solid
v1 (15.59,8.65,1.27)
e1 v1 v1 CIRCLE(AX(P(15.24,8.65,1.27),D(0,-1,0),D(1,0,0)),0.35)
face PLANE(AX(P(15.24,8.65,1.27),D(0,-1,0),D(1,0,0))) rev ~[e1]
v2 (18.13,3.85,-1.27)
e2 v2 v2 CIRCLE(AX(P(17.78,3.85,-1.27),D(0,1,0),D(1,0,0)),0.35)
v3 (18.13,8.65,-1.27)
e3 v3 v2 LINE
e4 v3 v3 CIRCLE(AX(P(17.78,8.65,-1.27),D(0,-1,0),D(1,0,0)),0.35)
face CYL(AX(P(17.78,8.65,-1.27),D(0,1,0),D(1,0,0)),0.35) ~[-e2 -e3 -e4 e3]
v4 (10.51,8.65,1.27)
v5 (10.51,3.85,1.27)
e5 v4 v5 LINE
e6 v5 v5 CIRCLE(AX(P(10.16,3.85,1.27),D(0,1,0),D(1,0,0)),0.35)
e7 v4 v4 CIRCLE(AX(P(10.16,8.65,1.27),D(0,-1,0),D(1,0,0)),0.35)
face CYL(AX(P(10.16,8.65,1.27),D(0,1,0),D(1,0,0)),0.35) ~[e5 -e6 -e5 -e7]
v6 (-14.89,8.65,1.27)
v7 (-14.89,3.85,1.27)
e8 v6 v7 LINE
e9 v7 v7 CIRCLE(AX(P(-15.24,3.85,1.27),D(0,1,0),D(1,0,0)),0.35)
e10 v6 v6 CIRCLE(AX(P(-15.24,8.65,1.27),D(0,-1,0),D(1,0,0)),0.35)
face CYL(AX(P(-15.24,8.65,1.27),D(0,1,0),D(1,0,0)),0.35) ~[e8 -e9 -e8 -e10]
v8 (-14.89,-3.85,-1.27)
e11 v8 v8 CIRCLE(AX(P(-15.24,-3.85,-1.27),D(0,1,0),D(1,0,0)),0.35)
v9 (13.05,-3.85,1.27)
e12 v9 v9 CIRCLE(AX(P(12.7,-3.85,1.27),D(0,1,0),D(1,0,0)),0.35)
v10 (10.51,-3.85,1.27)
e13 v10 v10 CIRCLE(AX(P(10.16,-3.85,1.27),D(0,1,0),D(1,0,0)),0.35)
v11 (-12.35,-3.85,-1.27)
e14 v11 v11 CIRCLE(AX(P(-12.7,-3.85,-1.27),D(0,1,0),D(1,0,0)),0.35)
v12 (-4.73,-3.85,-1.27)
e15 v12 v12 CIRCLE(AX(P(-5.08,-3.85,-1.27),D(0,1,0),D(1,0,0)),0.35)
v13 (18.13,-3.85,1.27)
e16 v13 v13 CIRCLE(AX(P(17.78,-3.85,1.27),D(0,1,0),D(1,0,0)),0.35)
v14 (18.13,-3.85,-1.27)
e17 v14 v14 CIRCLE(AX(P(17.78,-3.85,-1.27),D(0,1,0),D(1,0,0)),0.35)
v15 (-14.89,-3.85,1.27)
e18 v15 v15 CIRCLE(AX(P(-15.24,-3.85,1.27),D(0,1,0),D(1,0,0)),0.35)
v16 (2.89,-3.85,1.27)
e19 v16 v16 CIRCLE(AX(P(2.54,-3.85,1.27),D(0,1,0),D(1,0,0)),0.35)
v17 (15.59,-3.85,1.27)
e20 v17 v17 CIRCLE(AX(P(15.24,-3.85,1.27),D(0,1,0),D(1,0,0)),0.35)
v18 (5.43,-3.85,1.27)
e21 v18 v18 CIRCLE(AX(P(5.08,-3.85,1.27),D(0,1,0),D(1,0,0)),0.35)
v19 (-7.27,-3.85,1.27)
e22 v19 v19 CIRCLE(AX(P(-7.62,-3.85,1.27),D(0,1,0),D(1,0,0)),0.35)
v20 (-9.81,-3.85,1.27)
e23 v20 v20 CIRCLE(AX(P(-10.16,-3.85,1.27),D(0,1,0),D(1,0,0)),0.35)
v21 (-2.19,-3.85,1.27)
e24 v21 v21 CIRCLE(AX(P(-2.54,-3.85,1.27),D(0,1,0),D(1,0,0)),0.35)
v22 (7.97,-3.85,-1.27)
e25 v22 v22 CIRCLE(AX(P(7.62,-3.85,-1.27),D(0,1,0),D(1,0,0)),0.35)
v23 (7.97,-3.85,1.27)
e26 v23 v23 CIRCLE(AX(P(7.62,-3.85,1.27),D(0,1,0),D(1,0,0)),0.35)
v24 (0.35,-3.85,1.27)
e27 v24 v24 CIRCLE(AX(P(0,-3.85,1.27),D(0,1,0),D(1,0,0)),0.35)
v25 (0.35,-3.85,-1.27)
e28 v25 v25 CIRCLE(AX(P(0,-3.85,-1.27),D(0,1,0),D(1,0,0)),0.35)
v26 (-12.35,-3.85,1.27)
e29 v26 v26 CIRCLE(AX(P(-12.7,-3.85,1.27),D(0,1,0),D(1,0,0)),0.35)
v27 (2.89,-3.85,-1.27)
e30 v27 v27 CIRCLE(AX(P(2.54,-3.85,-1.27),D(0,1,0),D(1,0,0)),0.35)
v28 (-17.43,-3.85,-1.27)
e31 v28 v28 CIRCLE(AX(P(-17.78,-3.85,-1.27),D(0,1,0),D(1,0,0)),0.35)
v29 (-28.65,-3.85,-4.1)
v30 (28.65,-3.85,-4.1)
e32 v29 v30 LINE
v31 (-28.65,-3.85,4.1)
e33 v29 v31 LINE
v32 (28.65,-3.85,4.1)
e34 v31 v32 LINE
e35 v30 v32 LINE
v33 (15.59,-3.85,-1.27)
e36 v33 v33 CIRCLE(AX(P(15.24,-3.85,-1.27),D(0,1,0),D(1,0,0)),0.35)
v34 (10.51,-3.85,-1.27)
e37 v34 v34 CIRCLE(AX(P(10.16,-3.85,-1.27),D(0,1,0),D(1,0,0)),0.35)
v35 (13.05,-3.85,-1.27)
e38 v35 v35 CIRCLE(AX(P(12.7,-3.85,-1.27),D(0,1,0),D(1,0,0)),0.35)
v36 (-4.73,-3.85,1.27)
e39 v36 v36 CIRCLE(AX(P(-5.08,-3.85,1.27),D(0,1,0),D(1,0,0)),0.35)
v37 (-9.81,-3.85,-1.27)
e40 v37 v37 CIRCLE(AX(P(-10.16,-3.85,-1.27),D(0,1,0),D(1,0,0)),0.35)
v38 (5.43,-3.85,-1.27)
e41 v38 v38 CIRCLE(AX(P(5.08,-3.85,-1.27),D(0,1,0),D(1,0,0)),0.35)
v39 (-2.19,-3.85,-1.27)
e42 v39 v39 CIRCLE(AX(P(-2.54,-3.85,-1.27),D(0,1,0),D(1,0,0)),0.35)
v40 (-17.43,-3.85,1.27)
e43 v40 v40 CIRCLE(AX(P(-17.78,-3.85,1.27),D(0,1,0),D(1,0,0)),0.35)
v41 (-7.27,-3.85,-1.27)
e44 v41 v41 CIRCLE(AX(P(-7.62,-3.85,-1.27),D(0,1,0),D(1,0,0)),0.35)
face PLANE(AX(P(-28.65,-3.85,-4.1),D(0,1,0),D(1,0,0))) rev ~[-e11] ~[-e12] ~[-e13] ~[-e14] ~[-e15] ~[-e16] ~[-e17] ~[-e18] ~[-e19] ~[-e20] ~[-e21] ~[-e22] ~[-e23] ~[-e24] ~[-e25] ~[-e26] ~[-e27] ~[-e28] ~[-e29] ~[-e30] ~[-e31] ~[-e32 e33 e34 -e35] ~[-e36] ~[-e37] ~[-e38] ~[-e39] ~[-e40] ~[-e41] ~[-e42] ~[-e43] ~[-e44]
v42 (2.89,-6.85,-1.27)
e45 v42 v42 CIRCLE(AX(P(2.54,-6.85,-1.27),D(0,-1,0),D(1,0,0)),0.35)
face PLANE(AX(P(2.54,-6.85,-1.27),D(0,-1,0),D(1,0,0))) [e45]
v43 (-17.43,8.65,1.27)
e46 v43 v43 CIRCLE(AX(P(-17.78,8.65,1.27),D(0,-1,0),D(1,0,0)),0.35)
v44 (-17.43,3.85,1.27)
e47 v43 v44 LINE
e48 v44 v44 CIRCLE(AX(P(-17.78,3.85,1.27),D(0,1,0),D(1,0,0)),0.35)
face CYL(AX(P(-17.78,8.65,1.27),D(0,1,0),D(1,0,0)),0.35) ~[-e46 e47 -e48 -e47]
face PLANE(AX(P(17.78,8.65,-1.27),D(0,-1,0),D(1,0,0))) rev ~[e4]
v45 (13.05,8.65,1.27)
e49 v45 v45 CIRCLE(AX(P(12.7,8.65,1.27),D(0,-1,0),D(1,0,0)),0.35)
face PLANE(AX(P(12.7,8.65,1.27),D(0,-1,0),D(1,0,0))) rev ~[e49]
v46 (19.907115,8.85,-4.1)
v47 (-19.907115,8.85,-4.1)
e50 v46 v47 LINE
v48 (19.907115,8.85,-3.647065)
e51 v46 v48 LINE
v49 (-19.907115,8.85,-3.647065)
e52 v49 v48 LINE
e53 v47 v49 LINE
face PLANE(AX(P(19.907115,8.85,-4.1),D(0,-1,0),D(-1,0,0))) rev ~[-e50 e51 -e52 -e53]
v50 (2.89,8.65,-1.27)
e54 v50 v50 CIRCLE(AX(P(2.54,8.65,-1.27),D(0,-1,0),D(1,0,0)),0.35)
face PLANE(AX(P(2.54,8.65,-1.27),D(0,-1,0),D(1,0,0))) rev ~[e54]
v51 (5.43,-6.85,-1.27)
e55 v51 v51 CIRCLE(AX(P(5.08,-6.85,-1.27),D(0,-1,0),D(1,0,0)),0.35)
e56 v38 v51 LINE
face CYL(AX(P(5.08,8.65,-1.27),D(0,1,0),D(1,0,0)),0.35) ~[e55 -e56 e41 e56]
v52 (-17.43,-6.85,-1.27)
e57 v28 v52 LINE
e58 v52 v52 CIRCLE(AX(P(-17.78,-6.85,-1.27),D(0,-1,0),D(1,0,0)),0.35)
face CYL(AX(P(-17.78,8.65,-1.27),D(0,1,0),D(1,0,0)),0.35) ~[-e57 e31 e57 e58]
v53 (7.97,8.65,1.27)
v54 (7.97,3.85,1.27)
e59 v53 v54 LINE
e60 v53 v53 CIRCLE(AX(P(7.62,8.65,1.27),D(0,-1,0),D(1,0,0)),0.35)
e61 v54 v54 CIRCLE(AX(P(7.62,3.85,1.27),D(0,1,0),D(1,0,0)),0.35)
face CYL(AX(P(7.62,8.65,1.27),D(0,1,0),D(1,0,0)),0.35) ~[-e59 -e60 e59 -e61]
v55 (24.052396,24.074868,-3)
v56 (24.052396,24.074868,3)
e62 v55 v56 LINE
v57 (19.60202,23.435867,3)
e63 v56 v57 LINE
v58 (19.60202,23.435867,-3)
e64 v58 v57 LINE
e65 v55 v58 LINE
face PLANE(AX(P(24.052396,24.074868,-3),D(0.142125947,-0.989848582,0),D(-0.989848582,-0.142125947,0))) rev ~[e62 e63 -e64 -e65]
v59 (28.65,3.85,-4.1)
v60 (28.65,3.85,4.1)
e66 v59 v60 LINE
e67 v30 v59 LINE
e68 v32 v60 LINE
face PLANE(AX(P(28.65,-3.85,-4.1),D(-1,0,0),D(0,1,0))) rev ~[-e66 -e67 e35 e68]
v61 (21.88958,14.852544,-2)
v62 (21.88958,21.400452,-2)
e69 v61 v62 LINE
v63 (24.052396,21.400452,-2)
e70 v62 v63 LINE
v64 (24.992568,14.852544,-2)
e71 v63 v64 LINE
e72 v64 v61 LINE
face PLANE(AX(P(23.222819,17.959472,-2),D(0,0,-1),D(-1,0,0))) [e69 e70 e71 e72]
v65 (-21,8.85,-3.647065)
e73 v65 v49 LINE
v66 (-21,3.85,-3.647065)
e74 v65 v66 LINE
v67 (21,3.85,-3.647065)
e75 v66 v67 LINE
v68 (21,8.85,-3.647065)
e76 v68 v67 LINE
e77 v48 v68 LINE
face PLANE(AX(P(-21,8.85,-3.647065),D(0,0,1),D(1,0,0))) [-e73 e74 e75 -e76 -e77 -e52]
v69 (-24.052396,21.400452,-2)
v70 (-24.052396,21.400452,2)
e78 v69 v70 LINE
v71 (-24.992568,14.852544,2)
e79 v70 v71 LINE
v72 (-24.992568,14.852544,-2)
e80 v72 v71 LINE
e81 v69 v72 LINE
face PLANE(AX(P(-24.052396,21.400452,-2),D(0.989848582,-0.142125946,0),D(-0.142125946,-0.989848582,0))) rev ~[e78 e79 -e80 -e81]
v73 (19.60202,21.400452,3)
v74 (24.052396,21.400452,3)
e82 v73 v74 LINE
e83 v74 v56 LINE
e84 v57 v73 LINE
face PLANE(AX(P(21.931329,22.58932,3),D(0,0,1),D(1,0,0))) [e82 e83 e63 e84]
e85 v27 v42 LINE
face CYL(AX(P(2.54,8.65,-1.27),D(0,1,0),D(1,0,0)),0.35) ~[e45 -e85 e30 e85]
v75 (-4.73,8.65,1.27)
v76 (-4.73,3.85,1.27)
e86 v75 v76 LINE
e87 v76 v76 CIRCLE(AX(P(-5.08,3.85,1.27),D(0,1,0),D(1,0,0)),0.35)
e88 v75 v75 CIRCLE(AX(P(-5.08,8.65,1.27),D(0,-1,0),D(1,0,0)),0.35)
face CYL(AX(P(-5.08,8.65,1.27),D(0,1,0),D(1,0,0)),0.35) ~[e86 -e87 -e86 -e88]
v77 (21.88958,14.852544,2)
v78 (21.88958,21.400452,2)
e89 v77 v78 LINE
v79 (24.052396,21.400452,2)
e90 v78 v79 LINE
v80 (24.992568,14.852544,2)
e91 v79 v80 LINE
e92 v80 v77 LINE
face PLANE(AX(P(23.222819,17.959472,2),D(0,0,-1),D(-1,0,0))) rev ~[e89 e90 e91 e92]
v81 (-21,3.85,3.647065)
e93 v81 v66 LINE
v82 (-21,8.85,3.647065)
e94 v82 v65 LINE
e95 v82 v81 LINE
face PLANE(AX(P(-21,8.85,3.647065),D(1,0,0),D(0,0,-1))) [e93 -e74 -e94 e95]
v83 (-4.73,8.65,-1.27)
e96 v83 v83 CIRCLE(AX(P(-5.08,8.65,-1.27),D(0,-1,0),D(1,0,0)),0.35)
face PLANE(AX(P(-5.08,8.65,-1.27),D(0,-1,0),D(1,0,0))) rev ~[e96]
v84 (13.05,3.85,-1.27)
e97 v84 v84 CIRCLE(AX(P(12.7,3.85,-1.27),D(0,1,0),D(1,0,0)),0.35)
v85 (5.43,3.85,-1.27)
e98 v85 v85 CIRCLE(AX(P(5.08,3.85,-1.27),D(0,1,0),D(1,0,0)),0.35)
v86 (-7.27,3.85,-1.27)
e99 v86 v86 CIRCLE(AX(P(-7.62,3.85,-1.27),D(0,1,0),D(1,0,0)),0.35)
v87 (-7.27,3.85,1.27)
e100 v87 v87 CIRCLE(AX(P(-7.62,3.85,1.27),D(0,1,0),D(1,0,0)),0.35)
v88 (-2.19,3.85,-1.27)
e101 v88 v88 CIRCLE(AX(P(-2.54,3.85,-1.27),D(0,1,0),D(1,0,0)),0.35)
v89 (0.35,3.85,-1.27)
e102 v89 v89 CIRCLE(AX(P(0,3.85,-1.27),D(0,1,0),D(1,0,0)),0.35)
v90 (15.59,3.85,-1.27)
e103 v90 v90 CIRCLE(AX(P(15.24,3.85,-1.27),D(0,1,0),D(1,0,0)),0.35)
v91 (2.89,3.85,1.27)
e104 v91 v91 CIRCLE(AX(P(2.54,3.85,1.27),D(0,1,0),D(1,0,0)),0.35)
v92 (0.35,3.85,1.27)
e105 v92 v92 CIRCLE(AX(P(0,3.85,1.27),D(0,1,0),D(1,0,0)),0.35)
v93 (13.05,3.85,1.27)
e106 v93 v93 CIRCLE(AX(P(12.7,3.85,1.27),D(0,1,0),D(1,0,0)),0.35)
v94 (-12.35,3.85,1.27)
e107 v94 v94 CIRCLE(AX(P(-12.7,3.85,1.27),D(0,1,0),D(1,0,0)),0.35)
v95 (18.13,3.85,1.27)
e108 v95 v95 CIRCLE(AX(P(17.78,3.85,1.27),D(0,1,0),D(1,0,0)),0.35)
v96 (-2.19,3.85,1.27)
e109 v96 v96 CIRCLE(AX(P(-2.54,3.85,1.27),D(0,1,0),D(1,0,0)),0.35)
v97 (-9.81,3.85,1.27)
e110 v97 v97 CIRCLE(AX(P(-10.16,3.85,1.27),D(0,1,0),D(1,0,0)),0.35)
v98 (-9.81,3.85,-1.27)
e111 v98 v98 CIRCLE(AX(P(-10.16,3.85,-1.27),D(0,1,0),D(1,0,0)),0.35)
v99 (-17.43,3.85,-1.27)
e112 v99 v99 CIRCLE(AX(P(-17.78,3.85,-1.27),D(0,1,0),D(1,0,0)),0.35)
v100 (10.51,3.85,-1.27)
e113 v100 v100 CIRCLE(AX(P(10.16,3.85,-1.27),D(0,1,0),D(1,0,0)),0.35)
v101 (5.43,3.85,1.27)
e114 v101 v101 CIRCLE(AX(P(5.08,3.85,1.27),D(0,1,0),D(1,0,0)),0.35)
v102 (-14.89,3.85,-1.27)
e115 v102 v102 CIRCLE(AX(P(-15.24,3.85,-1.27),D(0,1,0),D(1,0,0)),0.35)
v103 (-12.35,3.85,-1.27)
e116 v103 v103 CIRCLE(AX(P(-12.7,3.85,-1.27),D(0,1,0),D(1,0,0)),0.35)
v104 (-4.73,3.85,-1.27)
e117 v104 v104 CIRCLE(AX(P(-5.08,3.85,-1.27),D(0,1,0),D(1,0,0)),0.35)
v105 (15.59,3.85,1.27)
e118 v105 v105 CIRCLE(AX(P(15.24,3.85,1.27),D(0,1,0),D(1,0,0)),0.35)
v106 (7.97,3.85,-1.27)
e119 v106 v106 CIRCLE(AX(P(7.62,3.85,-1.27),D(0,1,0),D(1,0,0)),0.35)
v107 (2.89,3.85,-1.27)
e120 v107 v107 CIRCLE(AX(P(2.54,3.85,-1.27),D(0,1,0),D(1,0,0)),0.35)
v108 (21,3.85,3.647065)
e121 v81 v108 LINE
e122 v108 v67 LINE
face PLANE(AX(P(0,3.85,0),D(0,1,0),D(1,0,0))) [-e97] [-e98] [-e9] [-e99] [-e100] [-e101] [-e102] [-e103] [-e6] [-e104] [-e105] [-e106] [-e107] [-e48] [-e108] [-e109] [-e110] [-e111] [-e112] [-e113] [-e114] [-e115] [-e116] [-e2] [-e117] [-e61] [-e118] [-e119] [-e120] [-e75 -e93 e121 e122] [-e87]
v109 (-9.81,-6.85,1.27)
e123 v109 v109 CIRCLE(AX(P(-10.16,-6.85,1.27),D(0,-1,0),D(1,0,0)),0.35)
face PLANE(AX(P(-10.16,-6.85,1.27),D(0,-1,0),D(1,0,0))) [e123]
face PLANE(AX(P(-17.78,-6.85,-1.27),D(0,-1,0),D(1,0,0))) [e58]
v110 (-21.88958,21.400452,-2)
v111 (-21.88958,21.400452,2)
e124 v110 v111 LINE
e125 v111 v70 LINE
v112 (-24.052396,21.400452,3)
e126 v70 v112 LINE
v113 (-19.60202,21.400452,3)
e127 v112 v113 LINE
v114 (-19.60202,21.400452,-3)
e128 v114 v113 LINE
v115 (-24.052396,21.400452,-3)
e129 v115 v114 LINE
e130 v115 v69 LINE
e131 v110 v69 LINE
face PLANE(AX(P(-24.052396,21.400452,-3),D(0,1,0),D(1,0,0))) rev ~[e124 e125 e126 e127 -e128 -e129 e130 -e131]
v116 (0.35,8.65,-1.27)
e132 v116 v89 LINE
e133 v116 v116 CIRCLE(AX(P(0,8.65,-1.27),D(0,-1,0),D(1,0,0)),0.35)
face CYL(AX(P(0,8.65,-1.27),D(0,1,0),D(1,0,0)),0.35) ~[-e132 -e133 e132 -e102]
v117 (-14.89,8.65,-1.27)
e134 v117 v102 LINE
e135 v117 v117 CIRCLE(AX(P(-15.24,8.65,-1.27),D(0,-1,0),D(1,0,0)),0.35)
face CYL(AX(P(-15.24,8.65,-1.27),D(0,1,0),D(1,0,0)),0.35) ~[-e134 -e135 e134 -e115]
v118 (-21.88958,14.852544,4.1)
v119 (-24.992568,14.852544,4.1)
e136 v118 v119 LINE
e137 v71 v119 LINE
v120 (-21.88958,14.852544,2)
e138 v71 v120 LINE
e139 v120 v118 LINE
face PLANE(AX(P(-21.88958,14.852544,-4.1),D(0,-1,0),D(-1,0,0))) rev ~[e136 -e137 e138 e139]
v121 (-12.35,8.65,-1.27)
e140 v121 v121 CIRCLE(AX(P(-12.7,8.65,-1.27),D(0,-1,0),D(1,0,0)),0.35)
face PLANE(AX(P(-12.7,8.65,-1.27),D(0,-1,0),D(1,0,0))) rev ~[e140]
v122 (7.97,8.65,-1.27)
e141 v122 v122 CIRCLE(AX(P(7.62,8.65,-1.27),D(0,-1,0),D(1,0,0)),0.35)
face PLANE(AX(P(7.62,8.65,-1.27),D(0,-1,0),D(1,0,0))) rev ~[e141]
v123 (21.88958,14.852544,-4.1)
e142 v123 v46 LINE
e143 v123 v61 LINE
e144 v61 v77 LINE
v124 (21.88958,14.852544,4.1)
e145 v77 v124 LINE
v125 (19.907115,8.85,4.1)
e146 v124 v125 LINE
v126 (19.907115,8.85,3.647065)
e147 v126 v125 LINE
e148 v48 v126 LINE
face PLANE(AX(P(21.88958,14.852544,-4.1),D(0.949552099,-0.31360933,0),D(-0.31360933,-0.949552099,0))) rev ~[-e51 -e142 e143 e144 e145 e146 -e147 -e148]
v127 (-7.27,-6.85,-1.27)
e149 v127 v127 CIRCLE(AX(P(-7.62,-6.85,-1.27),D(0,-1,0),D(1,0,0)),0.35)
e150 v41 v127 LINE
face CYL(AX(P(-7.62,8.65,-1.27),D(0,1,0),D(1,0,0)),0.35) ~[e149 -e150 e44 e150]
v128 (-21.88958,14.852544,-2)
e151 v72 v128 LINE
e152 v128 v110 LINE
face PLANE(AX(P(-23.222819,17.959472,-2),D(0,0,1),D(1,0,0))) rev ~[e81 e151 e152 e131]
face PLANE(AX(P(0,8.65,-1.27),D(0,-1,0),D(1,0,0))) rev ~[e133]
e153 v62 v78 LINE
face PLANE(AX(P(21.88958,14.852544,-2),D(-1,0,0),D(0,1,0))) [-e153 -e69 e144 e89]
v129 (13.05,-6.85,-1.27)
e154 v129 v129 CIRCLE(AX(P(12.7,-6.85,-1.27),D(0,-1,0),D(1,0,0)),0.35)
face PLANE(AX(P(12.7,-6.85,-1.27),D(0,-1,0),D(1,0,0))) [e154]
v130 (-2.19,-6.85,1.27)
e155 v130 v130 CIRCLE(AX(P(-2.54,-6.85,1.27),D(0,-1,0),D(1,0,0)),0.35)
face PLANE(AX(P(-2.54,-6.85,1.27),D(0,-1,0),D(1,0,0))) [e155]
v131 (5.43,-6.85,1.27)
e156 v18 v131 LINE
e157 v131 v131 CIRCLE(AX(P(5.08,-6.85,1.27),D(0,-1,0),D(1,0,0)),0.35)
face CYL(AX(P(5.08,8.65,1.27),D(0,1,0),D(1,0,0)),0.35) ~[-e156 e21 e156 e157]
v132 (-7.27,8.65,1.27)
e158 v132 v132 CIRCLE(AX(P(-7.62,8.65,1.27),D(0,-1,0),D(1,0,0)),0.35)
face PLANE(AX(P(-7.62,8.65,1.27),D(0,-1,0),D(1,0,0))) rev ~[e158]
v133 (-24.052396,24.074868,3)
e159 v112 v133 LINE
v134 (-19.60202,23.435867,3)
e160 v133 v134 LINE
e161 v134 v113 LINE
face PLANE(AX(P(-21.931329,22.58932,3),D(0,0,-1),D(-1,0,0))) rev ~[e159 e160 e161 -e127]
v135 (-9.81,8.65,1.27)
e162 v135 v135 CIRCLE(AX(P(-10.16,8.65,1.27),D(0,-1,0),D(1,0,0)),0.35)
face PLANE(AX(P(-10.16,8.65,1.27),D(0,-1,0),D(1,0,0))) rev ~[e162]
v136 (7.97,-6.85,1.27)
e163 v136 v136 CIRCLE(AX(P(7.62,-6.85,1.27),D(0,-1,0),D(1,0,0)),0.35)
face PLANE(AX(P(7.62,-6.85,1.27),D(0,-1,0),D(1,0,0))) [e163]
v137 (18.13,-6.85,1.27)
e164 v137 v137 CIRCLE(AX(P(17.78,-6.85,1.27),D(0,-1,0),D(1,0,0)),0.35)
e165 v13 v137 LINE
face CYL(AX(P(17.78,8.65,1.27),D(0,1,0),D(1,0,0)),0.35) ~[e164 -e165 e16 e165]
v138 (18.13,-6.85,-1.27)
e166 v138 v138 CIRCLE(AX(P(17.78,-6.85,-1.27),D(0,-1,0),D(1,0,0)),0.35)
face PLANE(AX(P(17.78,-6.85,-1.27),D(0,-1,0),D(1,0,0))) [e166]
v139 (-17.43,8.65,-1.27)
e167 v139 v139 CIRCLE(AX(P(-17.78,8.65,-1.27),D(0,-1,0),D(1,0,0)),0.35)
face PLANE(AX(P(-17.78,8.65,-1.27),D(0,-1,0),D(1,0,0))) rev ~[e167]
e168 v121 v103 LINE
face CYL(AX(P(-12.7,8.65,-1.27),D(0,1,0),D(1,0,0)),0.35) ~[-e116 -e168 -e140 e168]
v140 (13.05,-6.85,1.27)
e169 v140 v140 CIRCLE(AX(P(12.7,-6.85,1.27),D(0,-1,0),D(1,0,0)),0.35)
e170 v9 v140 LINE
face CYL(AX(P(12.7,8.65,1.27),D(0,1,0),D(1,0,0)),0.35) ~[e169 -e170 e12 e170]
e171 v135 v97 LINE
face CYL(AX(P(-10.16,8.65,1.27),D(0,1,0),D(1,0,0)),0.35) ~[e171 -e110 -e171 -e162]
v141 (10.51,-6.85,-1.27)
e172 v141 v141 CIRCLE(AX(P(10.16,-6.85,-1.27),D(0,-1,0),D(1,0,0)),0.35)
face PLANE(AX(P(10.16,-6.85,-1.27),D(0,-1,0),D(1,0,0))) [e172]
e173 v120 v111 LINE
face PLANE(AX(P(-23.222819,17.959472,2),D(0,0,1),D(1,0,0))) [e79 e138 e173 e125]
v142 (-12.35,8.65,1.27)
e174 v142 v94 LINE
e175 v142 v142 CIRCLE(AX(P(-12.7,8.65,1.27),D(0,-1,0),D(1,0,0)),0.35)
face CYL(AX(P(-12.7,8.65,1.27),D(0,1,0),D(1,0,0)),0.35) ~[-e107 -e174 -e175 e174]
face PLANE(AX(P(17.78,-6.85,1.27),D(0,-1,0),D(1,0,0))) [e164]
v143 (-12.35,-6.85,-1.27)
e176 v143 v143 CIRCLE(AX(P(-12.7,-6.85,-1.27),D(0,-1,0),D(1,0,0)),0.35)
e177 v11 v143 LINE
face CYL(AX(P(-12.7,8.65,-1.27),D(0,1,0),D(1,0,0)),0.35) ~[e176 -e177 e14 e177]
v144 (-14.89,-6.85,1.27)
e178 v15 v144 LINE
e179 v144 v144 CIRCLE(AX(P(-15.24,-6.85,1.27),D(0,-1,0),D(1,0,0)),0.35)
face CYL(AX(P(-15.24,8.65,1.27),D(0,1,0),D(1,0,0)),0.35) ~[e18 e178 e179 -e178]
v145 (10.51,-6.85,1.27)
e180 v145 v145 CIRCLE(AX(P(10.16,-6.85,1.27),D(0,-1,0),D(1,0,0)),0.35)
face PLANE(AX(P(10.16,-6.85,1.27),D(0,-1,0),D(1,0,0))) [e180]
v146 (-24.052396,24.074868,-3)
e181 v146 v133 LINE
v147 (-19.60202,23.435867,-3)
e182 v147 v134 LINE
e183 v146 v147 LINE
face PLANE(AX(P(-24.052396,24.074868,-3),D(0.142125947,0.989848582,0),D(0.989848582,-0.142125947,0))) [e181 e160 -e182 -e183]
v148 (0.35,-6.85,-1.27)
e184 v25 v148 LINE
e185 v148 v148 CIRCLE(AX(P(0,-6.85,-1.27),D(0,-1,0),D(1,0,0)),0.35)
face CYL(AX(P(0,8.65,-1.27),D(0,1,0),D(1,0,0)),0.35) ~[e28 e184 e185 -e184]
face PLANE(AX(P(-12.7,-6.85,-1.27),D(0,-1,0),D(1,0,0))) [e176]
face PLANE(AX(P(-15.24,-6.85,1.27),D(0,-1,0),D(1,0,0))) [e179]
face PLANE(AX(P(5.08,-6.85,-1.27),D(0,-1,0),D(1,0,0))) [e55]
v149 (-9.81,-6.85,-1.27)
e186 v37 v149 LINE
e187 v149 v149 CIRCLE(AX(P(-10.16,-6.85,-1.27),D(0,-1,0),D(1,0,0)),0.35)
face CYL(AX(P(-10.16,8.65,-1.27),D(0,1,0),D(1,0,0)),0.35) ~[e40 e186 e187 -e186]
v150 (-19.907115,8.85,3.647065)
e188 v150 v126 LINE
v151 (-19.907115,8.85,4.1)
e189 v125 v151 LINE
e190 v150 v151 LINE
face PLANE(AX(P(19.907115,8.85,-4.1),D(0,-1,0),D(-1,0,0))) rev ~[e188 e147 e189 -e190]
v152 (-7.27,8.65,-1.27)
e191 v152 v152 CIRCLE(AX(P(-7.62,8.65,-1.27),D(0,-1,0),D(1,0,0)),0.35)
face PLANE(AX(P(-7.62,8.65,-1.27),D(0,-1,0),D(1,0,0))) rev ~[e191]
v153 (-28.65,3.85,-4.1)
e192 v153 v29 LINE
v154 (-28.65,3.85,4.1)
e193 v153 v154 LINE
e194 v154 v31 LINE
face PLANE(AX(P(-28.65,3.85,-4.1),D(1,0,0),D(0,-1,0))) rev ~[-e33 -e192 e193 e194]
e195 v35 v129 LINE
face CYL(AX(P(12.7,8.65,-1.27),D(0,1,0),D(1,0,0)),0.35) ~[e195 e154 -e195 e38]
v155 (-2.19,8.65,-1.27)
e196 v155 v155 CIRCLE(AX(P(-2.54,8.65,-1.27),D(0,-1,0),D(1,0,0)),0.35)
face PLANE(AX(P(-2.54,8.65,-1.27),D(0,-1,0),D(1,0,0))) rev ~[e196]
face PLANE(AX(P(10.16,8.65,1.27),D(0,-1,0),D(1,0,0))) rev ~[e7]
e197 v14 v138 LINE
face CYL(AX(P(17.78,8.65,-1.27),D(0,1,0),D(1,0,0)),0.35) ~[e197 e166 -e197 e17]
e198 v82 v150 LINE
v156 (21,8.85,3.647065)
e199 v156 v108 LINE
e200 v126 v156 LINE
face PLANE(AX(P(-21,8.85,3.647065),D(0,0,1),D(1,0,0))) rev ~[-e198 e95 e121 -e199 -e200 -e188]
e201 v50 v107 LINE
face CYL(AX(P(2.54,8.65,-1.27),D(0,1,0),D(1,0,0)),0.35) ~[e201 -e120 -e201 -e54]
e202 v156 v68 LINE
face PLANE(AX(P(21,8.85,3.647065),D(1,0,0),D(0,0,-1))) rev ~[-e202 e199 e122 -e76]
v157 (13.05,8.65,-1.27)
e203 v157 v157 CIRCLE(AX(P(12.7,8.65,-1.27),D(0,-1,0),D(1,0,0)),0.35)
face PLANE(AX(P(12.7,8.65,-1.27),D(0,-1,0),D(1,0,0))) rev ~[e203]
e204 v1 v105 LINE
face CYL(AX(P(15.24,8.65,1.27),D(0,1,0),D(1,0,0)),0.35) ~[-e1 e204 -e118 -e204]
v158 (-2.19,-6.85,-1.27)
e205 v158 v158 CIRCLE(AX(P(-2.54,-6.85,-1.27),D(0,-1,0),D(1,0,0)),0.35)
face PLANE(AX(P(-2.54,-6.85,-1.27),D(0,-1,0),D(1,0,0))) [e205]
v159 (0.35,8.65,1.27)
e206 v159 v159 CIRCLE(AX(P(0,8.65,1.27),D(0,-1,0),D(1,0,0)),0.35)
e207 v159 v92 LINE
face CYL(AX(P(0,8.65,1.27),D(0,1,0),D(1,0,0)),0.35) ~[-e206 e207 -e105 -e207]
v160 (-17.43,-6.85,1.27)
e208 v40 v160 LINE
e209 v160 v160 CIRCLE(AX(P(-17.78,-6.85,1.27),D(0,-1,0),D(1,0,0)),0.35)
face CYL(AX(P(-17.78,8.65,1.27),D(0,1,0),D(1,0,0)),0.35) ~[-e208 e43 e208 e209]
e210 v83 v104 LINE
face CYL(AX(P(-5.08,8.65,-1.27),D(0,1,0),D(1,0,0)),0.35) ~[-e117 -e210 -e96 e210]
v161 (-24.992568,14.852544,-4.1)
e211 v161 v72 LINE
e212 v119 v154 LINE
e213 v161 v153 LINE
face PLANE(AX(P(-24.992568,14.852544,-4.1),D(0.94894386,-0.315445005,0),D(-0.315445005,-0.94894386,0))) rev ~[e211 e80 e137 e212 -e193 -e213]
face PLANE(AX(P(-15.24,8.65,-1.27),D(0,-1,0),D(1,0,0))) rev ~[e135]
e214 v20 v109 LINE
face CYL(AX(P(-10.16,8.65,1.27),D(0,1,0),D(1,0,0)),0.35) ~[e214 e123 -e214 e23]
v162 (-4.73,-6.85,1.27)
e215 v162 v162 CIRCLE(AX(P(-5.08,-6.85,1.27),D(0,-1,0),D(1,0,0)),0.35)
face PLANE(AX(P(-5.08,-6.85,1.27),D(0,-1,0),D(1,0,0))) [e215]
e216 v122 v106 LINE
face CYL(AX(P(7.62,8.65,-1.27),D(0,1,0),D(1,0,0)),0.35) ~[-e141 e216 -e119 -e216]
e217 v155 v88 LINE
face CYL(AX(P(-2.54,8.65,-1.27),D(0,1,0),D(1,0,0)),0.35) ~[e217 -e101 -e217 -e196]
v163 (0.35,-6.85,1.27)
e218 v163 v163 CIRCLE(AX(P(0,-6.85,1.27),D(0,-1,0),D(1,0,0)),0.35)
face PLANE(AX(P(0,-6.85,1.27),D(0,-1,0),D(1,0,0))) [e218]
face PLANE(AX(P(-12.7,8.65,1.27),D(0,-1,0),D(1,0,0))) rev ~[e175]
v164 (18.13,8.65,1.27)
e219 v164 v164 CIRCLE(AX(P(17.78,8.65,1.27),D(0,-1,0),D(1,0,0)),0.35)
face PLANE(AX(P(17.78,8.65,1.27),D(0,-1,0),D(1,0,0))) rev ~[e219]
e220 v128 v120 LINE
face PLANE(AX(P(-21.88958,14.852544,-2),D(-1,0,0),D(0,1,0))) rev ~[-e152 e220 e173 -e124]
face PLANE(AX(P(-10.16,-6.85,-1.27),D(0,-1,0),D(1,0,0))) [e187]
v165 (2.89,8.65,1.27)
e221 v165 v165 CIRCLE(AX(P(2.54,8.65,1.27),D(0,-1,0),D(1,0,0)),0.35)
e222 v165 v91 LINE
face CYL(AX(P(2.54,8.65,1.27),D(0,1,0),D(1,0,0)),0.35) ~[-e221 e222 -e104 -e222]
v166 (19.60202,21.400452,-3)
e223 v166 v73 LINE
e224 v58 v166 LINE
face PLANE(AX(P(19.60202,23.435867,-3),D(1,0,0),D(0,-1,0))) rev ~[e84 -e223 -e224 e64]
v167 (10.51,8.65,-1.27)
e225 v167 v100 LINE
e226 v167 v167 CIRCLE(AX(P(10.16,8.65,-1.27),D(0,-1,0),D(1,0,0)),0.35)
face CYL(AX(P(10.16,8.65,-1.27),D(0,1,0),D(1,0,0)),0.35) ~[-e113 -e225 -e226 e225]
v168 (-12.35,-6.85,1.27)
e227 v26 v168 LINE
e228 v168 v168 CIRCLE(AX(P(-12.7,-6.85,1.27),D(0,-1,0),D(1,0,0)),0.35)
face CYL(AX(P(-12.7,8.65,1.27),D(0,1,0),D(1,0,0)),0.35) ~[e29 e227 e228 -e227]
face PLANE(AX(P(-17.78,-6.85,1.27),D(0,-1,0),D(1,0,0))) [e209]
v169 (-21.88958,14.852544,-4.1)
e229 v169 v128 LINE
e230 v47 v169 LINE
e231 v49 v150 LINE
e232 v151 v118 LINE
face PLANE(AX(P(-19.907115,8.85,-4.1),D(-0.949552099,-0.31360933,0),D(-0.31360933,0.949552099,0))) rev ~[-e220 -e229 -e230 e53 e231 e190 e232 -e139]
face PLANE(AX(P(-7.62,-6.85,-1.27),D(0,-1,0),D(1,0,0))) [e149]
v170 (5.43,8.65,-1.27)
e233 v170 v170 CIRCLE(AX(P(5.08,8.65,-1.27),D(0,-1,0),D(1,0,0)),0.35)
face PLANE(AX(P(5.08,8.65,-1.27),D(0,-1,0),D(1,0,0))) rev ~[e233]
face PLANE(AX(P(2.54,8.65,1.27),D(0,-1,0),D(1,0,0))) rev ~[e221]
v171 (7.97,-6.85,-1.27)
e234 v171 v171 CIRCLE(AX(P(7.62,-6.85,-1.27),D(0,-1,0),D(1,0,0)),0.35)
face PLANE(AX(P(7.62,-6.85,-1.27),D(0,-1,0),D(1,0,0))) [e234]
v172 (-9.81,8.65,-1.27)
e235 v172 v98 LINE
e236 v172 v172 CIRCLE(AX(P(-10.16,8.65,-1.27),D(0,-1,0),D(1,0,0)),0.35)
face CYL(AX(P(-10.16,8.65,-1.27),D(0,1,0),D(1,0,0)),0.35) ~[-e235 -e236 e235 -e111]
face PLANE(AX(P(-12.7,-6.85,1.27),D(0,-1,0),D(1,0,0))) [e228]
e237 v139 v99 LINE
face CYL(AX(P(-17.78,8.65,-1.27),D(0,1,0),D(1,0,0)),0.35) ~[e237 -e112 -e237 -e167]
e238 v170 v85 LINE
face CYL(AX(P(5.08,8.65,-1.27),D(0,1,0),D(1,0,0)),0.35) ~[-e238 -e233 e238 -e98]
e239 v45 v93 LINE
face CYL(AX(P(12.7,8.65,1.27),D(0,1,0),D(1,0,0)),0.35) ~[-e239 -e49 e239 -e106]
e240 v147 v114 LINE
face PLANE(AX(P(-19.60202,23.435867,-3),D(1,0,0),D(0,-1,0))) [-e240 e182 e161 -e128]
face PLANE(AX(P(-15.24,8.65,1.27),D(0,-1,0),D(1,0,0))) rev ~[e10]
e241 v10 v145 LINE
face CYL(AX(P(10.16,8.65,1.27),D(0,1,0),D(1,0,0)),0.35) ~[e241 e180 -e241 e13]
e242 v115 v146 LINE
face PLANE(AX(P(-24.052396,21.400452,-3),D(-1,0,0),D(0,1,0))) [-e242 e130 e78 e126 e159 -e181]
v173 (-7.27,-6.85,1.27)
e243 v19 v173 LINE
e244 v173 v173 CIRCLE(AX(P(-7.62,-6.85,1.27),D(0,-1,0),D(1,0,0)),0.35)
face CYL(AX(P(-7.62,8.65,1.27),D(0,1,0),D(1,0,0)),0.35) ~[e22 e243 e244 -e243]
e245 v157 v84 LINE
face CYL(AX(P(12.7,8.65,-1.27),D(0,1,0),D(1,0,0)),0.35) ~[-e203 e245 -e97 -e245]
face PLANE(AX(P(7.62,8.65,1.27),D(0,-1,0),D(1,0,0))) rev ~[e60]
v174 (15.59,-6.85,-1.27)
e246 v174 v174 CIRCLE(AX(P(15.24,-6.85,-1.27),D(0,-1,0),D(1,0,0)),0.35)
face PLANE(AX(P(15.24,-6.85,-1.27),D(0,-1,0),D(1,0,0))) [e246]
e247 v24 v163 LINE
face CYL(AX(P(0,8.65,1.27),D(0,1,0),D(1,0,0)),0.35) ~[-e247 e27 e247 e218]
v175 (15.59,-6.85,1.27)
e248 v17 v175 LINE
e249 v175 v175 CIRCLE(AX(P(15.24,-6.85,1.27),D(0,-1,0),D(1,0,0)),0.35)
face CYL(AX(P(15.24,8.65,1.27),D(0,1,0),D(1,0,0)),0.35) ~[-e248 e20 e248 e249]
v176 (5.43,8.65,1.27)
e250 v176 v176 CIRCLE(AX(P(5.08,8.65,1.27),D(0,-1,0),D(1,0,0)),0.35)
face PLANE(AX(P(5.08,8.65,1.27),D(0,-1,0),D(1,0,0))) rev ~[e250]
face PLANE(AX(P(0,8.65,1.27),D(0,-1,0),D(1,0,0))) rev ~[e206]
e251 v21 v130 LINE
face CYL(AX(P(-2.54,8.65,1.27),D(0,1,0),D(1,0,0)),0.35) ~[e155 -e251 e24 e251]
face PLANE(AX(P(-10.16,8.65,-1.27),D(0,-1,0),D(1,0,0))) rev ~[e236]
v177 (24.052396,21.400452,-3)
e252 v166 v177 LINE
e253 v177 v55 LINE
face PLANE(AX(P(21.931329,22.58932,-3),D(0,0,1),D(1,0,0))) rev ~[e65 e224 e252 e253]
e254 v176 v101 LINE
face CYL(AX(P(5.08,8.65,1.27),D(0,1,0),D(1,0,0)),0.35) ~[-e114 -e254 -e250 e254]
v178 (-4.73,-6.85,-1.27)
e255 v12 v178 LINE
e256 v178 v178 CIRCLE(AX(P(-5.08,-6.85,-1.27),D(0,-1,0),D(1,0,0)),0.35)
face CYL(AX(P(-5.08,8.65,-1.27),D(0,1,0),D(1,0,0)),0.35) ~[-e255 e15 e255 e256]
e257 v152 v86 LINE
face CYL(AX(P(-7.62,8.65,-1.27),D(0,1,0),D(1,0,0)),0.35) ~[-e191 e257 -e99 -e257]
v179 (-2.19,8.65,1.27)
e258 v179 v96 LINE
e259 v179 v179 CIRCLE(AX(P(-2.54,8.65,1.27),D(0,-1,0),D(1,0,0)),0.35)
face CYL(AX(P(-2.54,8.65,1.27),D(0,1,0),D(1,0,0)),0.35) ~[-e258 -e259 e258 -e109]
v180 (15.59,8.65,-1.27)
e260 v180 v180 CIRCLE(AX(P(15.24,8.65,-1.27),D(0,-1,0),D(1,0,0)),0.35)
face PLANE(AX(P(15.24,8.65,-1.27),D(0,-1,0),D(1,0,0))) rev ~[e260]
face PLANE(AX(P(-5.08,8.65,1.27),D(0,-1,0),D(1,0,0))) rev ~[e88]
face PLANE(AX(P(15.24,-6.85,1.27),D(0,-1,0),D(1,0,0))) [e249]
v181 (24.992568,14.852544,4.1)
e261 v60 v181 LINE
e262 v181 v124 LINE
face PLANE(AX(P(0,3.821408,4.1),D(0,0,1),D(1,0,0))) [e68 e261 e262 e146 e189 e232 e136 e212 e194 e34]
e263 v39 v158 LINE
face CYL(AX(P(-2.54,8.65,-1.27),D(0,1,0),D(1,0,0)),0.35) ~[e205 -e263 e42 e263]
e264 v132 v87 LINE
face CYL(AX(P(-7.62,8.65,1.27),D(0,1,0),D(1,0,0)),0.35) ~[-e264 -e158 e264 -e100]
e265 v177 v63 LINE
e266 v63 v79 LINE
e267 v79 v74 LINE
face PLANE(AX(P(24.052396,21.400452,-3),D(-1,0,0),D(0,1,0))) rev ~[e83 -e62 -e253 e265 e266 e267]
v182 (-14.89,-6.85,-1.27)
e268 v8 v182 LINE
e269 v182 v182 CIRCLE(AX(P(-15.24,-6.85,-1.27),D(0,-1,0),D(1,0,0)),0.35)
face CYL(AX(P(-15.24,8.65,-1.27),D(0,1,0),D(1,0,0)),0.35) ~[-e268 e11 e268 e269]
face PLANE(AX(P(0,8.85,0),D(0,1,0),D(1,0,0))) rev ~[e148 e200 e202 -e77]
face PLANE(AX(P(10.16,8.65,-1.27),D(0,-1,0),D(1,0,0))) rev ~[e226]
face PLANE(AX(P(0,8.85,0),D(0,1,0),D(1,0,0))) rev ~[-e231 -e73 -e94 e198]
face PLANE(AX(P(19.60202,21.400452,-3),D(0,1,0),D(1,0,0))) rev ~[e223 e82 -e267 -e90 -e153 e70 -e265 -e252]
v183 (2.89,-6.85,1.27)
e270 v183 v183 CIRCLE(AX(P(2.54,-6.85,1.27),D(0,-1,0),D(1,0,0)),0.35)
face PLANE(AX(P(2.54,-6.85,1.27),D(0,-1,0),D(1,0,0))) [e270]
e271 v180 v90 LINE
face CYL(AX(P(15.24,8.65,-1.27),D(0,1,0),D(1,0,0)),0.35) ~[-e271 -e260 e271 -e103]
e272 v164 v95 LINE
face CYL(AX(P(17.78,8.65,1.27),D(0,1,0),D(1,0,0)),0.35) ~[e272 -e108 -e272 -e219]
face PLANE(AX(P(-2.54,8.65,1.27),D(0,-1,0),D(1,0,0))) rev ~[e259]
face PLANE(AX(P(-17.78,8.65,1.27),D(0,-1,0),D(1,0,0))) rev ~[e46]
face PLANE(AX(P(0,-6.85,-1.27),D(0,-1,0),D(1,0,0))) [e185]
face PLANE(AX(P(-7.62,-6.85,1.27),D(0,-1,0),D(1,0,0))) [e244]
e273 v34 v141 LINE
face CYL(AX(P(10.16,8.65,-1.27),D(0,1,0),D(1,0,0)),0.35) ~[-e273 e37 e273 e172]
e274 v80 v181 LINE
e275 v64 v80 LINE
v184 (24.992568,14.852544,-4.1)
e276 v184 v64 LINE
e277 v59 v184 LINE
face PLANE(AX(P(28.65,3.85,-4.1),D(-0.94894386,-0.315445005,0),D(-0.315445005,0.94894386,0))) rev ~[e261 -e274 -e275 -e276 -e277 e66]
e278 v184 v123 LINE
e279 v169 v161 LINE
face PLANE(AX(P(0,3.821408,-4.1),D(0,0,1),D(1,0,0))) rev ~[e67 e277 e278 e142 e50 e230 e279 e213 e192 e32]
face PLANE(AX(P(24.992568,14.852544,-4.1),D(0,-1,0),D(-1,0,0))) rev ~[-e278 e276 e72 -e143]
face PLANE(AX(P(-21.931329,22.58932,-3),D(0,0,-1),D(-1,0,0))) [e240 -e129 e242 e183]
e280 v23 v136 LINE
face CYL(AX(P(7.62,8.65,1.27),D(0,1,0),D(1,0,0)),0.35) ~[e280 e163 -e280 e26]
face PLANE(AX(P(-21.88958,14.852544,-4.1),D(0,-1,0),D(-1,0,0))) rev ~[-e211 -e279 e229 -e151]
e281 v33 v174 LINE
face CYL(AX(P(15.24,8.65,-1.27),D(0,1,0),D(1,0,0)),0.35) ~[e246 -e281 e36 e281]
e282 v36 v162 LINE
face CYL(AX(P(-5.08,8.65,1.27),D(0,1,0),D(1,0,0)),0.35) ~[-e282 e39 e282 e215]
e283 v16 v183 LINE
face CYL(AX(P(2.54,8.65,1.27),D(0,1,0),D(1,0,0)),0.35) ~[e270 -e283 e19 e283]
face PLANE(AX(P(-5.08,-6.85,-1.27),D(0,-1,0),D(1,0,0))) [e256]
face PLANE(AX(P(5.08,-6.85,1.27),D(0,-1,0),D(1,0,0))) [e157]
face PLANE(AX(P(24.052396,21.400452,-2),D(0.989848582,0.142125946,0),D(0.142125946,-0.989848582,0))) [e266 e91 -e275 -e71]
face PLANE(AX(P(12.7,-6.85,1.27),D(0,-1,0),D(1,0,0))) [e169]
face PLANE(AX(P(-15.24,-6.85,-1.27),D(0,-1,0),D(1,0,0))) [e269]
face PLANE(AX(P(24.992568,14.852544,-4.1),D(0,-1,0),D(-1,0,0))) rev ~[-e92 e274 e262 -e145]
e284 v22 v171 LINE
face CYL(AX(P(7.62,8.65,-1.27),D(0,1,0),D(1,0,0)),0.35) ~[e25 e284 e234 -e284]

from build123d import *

# Parameters (mm, degrees)
EXTRUDE_1_DEPTH      = 4.1
EXTRUDE_1_DEPTH_BACK = 4.1
SKETCH_3_W           = 42
SKETCH_3_H           = 7.294129616
CUT_EXTRUDE_1_DEPTH  = 5
EXTRUDE_2_DEPTH      = 2
EXTRUDE_2_DEPTH_BACK = 2
EXTRUDE_3_DEPTH      = 3
EXTRUDE_3_DEPTH_BACK = 3
EXTRUDE_4_DEPTH      = 3
EXTRUDE_4_DEPTH_BACK = 12.5
SKETCH_6_R           = 0.35


with BuildPart() as part:
    # Эскиз2 → Бобышка-Вытянуть1 (new, two sides: drawn at the far end of the back side and taken through both)
    with BuildSketch(Plane.XY.offset(-EXTRUDE_1_DEPTH_BACK)):
        Polygon((21.889579694, 14.852543655), (19.907114806, 8.85), (-19.907114806, 8.85), (-21.889579694, 14.852543655), (-24.992568214, 14.852543655), (-28.65, 3.85), (-28.65, -3.85), (28.65, -3.85), (28.65, 3.85), (24.992568214, 14.852543655), align=None)
    extrude(amount=EXTRUDE_1_DEPTH + EXTRUDE_1_DEPTH_BACK)

    # Эскиз3 → Вырез-Вытянуть1 (cut)
    with BuildSketch(Plane(origin=(0, 8.85, 0), x_dir=(1, 0, 0), z_dir=(0, 1, 0))):
        Rectangle(SKETCH_3_W, SKETCH_3_H)
    extrude(amount=-CUT_EXTRUDE_1_DEPTH, mode=Mode.SUBTRACT)

    # Эскиз4 → Бобышка-Вытянуть2 (add, two sides: drawn at the far end of the back side and taken through both)
    with BuildSketch(Plane.XY.offset(-EXTRUDE_2_DEPTH_BACK)):
        Polygon((-24.992568214, 14.852543655), (-21.889579694, 14.852543655), (-21.889579694, 21.400452047), (-24.052396461, 21.400452047), align=None)
        Polygon((24.052396461, 21.400452047), (24.992568214, 14.852543655), (21.889579694, 14.852543655), (21.889579694, 21.400452047), align=None)
    extrude(amount=EXTRUDE_2_DEPTH + EXTRUDE_2_DEPTH_BACK)

    # Эскиз5 → Бобышка-Вытянуть3 (add, two sides: drawn at the far end of the back side and taken through both)
    with BuildSketch(Plane.XY.offset(-EXTRUDE_3_DEPTH_BACK)):
        Polygon((-24.052396461, 21.400452047), (-24.052396461, 24.074868015), (-19.60201978, 23.435867253), (-19.60201978, 21.400452047), (-21.889579694, 21.400452047), align=None)
        Polygon((19.60201978, 21.400452047), (21.889579694, 21.400452047), (24.052396461, 21.400452047), (24.052396461, 24.074868015), (19.60201978, 23.435867253), align=None)
    extrude(amount=EXTRUDE_3_DEPTH + EXTRUDE_3_DEPTH_BACK)

    # Эскиз6 → Бобышка-Вытянуть4 (add, two sides: drawn at the far end of the back side and taken through both)
    with BuildSketch(Plane.XZ.offset(3.85).offset(-EXTRUDE_4_DEPTH_BACK)):
        with Locations((0, 1.27)):
            Circle(SKETCH_6_R)
        with Locations((0, -1.27)):
            Circle(SKETCH_6_R)
        with Locations((2.54, -1.27)):
            Circle(SKETCH_6_R)
        with Locations((2.54, 1.27)):
            Circle(SKETCH_6_R)
        with Locations((5.08, -1.27)):
            Circle(SKETCH_6_R)
        with Locations((5.08, 1.27)):
            Circle(SKETCH_6_R)
        with Locations((7.62, -1.27)):
            Circle(SKETCH_6_R)
        with Locations((7.62, 1.27)):
            Circle(SKETCH_6_R)
        with Locations((10.16, -1.27)):
            Circle(SKETCH_6_R)
        with Locations((10.16, 1.27)):
            Circle(SKETCH_6_R)
        with Locations((12.7, -1.27)):
            Circle(SKETCH_6_R)
        with Locations((12.7, 1.27)):
            Circle(SKETCH_6_R)
        with Locations((15.24, -1.27)):
            Circle(SKETCH_6_R)
        with Locations((15.24, 1.27)):
            Circle(SKETCH_6_R)
        with Locations((17.78, -1.27)):
            Circle(SKETCH_6_R)
        with Locations((17.78, 1.27)):
            Circle(SKETCH_6_R)
        with Locations((-2.54, -1.27)):
            Circle(SKETCH_6_R)
        with Locations((-2.54, 1.27)):
            Circle(SKETCH_6_R)
        with Locations((-5.08, -1.27)):
            Circle(SKETCH_6_R)
        with Locations((-5.08, 1.27)):
            Circle(SKETCH_6_R)
        with Locations((-7.62, -1.27)):
            Circle(SKETCH_6_R)
        with Locations((-7.62, 1.27)):
            Circle(SKETCH_6_R)
        with Locations((-10.16, -1.27)):
            Circle(SKETCH_6_R)
        with Locations((-10.16, 1.27)):
            Circle(SKETCH_6_R)
        with Locations((-12.7, -1.27)):
            Circle(SKETCH_6_R)
        with Locations((-12.7, 1.27)):
            Circle(SKETCH_6_R)
        with Locations((-15.24, -1.27)):
            Circle(SKETCH_6_R)
        with Locations((-15.24, 1.27)):
            Circle(SKETCH_6_R)
        with Locations((-17.78, -1.27)):
            Circle(SKETCH_6_R)
        with Locations((-17.78, 1.27)):
            Circle(SKETCH_6_R)
    extrude(amount=EXTRUDE_4_DEPTH + EXTRUDE_4_DEPTH_BACK)


solid = part.part
